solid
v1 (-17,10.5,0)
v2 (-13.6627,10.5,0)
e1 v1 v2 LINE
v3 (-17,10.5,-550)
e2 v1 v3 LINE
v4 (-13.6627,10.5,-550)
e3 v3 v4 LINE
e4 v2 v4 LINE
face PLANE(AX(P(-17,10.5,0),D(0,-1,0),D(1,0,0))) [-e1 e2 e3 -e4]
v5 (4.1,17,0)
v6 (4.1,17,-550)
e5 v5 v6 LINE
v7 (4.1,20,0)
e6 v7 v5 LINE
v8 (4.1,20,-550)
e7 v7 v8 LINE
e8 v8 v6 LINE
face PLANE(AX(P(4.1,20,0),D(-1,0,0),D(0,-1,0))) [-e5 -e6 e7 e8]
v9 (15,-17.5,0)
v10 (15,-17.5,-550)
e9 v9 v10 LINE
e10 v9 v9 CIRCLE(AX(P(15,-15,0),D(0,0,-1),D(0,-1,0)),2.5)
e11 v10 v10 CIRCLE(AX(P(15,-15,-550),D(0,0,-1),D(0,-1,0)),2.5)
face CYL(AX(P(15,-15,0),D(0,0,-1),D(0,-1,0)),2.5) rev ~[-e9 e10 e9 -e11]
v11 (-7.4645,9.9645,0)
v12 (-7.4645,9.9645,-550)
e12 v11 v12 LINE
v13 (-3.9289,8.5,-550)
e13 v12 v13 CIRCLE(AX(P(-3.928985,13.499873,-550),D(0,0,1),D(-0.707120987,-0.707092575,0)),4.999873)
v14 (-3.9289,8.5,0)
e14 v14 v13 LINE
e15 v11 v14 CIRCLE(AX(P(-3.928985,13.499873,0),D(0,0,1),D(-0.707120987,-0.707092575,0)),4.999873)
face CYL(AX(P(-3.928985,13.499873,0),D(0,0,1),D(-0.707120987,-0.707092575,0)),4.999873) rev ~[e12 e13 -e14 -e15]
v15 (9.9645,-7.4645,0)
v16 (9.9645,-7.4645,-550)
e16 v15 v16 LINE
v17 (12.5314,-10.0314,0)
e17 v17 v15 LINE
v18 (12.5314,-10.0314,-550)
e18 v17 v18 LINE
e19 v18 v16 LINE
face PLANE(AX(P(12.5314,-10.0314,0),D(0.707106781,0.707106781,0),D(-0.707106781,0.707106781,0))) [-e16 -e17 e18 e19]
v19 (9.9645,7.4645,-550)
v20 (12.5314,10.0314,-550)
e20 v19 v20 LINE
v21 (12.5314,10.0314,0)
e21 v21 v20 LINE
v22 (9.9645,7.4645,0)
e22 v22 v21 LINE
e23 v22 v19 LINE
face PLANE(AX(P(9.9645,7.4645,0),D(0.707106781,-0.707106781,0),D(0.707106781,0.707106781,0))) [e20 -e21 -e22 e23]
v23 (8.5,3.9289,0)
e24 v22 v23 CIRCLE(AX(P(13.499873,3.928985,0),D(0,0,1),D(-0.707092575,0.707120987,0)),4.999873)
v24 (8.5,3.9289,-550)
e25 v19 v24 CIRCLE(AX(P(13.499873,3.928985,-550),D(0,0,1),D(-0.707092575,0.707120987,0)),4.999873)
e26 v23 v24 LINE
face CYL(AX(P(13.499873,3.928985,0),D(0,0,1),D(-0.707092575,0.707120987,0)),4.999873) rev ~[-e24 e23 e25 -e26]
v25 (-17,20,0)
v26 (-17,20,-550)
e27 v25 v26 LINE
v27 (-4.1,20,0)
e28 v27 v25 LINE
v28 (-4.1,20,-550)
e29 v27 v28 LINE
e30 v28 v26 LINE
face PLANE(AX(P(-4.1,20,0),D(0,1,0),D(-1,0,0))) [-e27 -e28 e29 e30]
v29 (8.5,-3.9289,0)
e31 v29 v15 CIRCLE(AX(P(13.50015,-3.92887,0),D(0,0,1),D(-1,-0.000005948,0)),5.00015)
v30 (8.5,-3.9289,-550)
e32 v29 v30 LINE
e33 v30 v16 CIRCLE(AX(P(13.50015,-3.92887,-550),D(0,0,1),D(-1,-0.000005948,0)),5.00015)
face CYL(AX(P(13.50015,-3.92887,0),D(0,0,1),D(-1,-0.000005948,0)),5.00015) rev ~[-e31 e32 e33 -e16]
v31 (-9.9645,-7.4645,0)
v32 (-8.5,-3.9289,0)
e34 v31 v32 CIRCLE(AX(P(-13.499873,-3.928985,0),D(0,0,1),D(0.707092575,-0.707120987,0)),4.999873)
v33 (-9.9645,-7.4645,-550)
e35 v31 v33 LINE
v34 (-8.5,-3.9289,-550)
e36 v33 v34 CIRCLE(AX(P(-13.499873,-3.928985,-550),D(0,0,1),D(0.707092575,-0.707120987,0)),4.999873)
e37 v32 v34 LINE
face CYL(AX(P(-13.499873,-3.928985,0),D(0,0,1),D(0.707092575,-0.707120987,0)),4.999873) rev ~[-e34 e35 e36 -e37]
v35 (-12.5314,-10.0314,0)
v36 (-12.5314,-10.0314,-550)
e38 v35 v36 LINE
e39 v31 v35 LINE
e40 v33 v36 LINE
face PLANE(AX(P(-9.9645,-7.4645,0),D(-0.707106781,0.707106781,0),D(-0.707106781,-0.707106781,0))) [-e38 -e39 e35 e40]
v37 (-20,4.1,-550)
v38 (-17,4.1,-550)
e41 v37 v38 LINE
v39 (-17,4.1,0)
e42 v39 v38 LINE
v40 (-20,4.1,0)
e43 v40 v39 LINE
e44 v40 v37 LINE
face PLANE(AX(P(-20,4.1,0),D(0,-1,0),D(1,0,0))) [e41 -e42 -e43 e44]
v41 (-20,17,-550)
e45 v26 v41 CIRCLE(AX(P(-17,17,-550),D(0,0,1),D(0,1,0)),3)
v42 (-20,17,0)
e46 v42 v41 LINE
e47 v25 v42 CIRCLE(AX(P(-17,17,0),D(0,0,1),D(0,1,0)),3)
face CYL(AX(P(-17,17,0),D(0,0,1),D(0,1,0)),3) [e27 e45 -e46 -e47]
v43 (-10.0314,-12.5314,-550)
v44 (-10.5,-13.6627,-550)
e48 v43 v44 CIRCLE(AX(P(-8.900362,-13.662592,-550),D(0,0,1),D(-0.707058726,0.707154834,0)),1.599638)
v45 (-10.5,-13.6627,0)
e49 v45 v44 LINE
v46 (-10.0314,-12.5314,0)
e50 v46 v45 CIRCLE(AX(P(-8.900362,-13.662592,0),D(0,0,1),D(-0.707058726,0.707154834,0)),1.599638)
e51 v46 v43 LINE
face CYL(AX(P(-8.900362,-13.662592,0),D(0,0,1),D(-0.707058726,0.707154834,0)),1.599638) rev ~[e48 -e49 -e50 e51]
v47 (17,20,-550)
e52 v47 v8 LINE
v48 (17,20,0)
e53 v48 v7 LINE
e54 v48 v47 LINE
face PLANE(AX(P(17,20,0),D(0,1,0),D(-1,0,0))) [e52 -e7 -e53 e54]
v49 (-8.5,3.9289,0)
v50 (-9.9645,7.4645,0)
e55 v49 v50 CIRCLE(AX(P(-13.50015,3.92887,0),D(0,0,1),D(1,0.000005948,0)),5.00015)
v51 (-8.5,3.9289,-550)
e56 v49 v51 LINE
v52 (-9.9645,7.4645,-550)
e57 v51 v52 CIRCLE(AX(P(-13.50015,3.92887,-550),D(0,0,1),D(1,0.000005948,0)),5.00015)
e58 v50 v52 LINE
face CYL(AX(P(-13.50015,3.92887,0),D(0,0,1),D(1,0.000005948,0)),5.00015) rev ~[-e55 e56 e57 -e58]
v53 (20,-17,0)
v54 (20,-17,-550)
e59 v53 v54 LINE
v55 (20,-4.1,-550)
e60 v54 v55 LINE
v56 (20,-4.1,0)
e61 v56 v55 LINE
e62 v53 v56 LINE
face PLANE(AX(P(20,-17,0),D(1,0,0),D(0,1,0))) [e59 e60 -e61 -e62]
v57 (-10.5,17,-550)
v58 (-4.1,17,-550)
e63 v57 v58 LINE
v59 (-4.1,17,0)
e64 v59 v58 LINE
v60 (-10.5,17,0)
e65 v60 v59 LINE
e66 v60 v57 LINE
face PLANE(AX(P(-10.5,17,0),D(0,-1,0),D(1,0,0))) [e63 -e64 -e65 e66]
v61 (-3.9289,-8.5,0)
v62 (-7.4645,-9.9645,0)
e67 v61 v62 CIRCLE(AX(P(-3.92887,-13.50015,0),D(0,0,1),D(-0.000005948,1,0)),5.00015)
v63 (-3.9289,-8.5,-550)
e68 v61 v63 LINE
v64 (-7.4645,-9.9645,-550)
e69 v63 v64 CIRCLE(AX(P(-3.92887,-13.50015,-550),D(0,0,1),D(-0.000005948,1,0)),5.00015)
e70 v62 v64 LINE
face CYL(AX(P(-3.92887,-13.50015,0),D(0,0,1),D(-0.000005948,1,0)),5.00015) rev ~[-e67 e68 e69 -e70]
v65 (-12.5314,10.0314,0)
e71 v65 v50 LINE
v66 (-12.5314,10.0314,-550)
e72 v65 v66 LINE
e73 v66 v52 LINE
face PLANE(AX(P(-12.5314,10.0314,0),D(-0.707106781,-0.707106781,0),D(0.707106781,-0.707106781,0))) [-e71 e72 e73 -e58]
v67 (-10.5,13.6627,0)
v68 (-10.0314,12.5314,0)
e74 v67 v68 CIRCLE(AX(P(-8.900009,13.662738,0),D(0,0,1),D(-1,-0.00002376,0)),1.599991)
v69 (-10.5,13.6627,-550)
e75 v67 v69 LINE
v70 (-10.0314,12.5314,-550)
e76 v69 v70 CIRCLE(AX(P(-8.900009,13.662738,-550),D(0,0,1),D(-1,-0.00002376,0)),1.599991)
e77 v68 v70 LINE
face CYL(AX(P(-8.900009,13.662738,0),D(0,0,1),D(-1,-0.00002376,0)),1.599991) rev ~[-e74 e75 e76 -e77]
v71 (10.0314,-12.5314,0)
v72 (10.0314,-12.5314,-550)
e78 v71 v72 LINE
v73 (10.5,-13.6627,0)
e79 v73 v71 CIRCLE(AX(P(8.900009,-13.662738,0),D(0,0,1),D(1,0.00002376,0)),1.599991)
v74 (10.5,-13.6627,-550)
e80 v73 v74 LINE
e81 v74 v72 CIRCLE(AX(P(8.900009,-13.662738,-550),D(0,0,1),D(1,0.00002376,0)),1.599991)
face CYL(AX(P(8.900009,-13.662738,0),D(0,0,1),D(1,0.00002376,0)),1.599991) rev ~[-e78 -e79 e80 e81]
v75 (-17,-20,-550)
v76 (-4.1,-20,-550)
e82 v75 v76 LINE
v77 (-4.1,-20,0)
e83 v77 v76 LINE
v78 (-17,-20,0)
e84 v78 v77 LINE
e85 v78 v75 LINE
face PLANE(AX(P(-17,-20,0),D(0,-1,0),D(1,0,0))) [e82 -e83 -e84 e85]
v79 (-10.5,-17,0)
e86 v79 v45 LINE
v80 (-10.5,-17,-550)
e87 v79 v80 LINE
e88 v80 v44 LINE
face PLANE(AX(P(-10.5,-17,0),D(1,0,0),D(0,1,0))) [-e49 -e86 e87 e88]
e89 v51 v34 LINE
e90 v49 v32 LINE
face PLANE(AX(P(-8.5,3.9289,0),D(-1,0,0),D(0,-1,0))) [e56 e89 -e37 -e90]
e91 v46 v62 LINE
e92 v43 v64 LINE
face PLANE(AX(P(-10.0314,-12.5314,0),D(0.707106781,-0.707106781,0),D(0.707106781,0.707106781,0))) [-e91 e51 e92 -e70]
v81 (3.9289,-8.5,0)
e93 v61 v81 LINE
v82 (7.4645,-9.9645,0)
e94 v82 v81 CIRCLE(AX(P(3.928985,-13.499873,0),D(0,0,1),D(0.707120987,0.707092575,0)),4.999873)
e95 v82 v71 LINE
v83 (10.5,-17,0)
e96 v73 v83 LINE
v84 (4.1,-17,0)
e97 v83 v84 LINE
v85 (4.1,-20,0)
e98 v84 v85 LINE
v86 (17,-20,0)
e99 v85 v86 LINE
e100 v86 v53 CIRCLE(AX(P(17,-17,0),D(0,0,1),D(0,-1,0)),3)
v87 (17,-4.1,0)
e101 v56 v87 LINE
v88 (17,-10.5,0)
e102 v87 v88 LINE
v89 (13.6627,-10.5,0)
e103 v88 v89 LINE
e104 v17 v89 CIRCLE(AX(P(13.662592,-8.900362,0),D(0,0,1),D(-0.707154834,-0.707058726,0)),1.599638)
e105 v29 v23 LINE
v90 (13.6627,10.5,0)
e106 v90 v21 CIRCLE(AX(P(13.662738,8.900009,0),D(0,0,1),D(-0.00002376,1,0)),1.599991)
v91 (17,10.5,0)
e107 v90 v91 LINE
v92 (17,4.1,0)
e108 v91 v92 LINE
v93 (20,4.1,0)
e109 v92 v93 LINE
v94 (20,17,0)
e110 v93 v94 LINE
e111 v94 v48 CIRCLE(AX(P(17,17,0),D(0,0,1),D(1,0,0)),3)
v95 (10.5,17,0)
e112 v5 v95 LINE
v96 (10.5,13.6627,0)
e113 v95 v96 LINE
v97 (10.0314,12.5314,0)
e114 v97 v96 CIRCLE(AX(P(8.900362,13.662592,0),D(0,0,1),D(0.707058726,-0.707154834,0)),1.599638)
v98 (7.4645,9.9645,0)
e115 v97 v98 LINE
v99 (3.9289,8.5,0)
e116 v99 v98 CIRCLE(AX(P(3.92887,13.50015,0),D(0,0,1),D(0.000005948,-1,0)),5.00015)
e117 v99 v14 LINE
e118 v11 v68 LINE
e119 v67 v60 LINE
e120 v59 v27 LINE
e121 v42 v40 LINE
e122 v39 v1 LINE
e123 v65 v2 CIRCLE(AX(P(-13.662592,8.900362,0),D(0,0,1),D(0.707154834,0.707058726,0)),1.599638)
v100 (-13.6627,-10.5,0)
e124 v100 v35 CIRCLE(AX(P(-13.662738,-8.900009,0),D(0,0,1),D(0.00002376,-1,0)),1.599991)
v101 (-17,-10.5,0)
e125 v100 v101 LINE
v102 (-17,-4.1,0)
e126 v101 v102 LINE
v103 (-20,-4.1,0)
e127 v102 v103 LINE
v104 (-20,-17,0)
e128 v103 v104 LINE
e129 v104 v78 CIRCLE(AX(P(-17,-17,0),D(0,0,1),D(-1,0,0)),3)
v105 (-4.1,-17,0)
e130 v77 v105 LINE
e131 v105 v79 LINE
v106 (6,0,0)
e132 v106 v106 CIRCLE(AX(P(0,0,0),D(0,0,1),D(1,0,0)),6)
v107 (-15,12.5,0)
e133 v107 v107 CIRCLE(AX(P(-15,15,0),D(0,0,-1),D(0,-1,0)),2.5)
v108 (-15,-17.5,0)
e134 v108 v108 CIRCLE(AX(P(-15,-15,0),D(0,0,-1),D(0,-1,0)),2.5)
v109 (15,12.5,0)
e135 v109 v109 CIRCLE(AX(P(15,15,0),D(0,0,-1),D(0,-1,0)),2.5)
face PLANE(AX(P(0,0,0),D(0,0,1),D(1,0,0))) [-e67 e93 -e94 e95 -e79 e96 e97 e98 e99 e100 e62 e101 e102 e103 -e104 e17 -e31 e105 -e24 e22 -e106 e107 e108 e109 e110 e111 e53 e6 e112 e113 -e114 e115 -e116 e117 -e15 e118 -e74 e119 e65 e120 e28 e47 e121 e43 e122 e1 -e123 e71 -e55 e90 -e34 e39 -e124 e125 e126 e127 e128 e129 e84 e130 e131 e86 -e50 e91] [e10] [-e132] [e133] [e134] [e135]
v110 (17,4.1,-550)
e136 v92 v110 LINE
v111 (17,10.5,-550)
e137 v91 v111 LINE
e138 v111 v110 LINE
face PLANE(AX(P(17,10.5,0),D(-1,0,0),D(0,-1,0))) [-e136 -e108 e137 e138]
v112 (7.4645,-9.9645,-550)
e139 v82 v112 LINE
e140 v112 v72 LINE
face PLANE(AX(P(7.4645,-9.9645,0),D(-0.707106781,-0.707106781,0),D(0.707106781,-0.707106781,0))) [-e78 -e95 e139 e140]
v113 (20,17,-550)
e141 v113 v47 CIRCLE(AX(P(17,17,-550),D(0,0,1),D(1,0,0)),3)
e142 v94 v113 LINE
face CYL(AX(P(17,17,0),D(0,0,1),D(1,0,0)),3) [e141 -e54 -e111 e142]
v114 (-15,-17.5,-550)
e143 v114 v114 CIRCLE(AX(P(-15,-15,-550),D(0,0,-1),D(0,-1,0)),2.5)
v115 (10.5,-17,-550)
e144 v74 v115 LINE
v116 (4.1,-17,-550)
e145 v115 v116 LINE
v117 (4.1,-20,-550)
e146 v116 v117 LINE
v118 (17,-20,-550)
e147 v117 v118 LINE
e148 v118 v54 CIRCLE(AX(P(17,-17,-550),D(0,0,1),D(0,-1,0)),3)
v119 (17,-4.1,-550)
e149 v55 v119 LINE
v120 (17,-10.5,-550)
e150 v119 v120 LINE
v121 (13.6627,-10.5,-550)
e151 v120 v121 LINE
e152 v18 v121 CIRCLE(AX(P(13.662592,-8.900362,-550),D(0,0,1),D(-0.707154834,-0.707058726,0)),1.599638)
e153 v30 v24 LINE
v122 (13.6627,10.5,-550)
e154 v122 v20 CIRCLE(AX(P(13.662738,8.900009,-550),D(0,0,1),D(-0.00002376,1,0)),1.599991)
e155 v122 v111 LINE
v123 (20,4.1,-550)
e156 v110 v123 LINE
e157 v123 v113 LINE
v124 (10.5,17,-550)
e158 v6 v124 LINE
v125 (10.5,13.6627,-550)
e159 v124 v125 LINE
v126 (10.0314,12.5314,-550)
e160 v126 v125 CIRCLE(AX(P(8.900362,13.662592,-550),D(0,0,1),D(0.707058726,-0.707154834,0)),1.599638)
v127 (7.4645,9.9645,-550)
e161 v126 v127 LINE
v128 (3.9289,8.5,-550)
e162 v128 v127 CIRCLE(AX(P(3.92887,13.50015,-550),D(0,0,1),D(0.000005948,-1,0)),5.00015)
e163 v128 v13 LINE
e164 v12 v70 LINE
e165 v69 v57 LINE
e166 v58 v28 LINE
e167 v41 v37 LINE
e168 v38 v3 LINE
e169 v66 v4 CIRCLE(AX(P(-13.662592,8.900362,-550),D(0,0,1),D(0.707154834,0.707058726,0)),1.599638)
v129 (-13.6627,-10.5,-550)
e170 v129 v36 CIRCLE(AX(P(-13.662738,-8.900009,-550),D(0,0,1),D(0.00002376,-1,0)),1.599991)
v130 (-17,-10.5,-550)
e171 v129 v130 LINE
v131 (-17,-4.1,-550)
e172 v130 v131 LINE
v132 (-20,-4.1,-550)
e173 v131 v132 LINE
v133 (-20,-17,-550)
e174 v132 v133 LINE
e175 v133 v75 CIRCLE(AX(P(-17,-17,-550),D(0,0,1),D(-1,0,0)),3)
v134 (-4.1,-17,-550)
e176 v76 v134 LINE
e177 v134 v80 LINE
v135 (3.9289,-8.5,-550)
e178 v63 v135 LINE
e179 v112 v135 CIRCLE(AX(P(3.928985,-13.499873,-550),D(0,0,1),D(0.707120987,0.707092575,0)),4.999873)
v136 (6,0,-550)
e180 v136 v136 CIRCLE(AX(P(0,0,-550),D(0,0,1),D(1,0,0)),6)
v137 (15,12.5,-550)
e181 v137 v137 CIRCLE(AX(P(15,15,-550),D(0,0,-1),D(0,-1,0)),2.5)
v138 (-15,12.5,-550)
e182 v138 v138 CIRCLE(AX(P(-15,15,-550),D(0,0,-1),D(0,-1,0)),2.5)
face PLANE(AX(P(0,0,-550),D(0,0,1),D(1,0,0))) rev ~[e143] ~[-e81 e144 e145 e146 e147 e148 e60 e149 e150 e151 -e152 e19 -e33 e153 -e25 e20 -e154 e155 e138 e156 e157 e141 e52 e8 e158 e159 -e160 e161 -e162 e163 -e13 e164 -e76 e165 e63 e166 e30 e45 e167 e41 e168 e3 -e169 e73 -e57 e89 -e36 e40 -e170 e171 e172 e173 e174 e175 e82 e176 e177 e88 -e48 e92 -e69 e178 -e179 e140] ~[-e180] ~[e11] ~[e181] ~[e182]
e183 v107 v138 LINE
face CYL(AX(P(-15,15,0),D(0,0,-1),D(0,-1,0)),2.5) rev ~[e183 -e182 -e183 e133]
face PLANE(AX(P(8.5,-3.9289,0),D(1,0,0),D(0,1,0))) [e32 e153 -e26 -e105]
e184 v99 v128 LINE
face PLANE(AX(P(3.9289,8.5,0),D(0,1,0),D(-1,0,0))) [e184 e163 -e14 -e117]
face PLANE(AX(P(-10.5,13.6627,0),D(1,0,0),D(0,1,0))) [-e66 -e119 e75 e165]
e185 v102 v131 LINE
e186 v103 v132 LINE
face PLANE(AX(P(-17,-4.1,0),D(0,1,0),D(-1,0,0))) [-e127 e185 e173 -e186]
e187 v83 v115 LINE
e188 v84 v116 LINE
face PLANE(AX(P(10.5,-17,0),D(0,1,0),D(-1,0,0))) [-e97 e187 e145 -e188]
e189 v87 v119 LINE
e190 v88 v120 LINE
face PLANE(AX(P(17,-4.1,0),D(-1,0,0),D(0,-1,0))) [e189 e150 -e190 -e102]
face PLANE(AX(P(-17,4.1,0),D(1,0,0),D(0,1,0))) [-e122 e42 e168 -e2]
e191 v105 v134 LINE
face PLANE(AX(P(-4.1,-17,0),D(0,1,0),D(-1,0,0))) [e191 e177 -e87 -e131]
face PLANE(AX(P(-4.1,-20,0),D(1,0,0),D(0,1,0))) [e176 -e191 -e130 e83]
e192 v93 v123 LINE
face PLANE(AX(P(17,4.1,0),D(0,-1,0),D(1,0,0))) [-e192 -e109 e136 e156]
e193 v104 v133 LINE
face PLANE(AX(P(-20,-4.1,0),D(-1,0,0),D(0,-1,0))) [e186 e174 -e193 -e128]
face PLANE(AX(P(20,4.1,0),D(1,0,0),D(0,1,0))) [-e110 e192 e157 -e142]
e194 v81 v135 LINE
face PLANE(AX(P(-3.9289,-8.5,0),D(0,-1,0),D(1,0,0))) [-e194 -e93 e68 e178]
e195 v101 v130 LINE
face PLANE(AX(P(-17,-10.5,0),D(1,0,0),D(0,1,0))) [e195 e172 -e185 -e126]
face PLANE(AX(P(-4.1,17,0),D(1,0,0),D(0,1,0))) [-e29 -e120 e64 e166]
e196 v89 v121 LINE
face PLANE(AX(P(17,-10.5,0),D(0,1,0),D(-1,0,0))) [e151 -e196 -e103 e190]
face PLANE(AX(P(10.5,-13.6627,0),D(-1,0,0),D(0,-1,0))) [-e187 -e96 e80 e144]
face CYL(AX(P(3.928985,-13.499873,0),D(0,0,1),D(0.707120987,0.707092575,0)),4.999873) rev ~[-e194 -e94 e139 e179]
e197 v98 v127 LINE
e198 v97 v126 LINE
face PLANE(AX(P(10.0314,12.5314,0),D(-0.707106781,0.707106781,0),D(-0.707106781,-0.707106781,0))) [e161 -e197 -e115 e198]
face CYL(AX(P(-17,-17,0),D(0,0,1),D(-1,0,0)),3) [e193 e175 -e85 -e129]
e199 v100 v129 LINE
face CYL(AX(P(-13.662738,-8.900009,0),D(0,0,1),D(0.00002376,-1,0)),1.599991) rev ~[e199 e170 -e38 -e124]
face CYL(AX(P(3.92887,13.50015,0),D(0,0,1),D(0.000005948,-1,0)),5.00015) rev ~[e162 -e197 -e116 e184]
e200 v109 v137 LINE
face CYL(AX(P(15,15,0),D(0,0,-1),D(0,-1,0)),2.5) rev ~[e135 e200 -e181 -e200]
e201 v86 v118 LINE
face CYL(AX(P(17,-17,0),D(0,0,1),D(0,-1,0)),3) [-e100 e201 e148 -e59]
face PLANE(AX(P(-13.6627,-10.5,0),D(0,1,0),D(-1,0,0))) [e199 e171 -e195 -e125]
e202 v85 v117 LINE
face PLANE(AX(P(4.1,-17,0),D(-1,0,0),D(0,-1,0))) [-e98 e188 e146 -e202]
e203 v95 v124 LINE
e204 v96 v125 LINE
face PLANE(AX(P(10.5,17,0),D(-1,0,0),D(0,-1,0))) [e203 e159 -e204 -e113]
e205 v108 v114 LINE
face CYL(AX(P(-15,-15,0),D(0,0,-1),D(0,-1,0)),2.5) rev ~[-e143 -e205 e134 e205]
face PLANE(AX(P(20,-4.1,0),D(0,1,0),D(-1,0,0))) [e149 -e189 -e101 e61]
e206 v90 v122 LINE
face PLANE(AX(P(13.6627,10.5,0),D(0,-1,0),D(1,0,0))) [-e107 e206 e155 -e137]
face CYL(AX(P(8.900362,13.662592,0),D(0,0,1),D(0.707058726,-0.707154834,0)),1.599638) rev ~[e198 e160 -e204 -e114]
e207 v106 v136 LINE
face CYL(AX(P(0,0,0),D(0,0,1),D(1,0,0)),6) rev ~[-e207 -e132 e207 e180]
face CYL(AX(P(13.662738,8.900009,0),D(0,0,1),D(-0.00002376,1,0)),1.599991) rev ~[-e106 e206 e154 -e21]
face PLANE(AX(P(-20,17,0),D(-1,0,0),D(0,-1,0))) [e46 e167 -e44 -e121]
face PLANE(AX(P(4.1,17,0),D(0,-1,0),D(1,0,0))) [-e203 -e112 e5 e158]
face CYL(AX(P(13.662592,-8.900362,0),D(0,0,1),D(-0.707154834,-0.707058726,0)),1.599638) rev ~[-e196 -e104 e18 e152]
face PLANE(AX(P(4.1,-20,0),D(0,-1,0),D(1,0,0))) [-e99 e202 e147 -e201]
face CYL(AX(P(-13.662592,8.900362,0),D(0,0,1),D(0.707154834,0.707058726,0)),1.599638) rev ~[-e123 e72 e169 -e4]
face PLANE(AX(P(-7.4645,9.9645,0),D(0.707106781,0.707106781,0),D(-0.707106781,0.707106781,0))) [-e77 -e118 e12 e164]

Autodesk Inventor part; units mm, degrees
sketch "Skizze_1" plane through (0, 0, 0) normal (0, 0, 1) x (1, 0, 0)
  arc A0 (-20, -17) -> (-17, -20) centre (-17, -17) ccw
  line L0 (-17, -20) -> (-4.1, -20)
  line L1 (-4.1, -20) -> (-4.1, -17)
  line L2 (-4.1, -17) -> (-10.5, -17)
  line L3 (-10.5, -17) -> (-10.5, -13.6627)
  arc A1 (-10.0314, -12.5314) -> (-10.5, -13.6627) centre (-8.9002, -13.6627) ccw
  line L4 (-10.0314, -12.5314) -> (-7.4645, -9.9645)
  arc A2 (-3.9289, -8.5) -> (-7.4645, -9.9645) centre (-3.9289, -13.5) ccw
  line L5 (-3.9289, -8.5) -> (3.9289, -8.5)
  arc A3 (7.4645, -9.9645) -> (3.9289, -8.5) centre (3.9289, -13.5) ccw
  line L6 (7.4645, -9.9645) -> (10.0314, -12.5314)
  arc A4 (10.5, -13.6627) -> (10.0314, -12.5314) centre (8.9002, -13.6627) ccw
  line L7 (10.5, -13.6627) -> (10.5, -17)
  line L8 (10.5, -17) -> (4.1, -17)
  line L9 (4.1, -17) -> (4.1, -20)
  line L10 (4.1, -20) -> (17, -20)
  arc A5 (17, -20) -> (20, -17) centre (17, -17) ccw
  line L11 (20, -17) -> (20, -4.1)
  line L12 (20, -4.1) -> (17, -4.1)
  line L13 (17, -4.1) -> (17, -10.5)
  line L14 (17, -10.5) -> (13.6627, -10.5)
  arc A6 (12.5314, -10.0314) -> (13.6627, -10.5) centre (13.6627, -8.9002) ccw
  line L15 (12.5314, -10.0314) -> (9.9645, -7.4645)
  arc A7 (8.5, -3.9289) -> (9.9645, -7.4645) centre (13.5, -3.9289) ccw
  line L16 (8.5, -3.9289) -> (8.5, 3.9289)
  arc A8 (9.9645, 7.4645) -> (8.5, 3.9289) centre (13.5, 3.9289) ccw
  line L17 (9.9645, 7.4645) -> (12.5314, 10.0314)
  arc A9 (13.6627, 10.5) -> (12.5314, 10.0314) centre (13.6627, 8.9002) ccw
  line L18 (13.6627, 10.5) -> (17, 10.5)
  line L19 (17, 10.5) -> (17, 4.1)
  line L20 (17, 4.1) -> (20, 4.1)
  line L21 (20, 4.1) -> (20, 17)
  arc A10 (20, 17) -> (17, 20) centre (17, 17) ccw
  line L22 (17, 20) -> (4.1, 20)
  line L23 (4.1, 20) -> (4.1, 17)
  line L24 (4.1, 17) -> (10.5, 17)
  line L25 (10.5, 17) -> (10.5, 13.6627)
  arc A11 (10.0314, 12.5314) -> (10.5, 13.6627) centre (8.9002, 13.6627) ccw
  line L26 (10.0314, 12.5314) -> (7.4645, 9.9645)
  arc A12 (3.9289, 8.5) -> (7.4645, 9.9645) centre (3.9289, 13.5) ccw
  line L27 (3.9289, 8.5) -> (-3.9289, 8.5)
  arc A13 (-7.4645, 9.9645) -> (-3.9289, 8.5) centre (-3.9289, 13.5) ccw
  line L28 (-7.4645, 9.9645) -> (-10.0314, 12.5314)
  arc A14 (-10.5, 13.6627) -> (-10.0314, 12.5314) centre (-8.9002, 13.6627) ccw
  line L29 (-10.5, 13.6627) -> (-10.5, 17)
  line L30 (-10.5, 17) -> (-4.1, 17)
  line L31 (-4.1, 17) -> (-4.1, 20)
  line L32 (-4.1, 20) -> (-17, 20)
  arc A15 (-17, 20) -> (-20, 17) centre (-17, 17) ccw
  line L33 (-20, 17) -> (-20, 4.1)
  line L34 (-20, 4.1) -> (-17, 4.1)
  line L35 (-17, 4.1) -> (-17, 10.5)
  line L36 (-17, 10.5) -> (-13.6627, 10.5)
  arc A16 (-12.5314, 10.0314) -> (-13.6627, 10.5) centre (-13.6627, 8.9002) ccw
  line L37 (-12.5314, 10.0314) -> (-9.9645, 7.4645)
  arc A17 (-8.5, 3.9289) -> (-9.9645, 7.4645) centre (-13.5, 3.9289) ccw
  line L38 (-8.5, 3.9289) -> (-8.5, -3.9289)
  arc A18 (-9.9645, -7.4645) -> (-8.5, -3.9289) centre (-13.5, -3.9289) ccw
  line L39 (-9.9645, -7.4645) -> (-12.5314, -10.0314)
  arc A19 (-13.6627, -10.5) -> (-12.5314, -10.0314) centre (-13.6627, -8.9002) ccw
  line L40 (-13.6627, -10.5) -> (-17, -10.5)
  line L41 (-17, -10.5) -> (-17, -4.1)
  line L42 (-17, -4.1) -> (-20, -4.1)
  line L43 (-20, -4.1) -> (-20, -17)
  circle A20 centre (0, 0) radius 6
extrude "Extrusion1" add sketch "Skizze_1" against normal blind 550
sketch "Sketch2" plane through (0, 0, 0) normal (0, 0, 1) x (1, 0, 0)
  point P0 (-15, -15)
hole "Drilling 1" at (-15, -15, 0) direction (0, 0, -1) diameter 5 depth 6000
sketch "Sketch3" plane through (0, 0, 0) normal (0, 0, 1) x (1, 0, 0)
  point P0 (15, -15)
hole "Drilling 2" at (15, -15, 0) direction (0, 0, -1) diameter 5 depth 6000
sketch "Sketch4" plane through (0, 0, 0) normal (0, 0, 1) x (1, 0, 0)
  point P0 (15, 15)
hole "Drilling 3" at (15, 15, 0) direction (0, 0, -1) diameter 5 depth 6000
sketch "Sketch5" plane through (0, 0, 0) normal (0, 0, 1) x (1, 0, 0)
  point P0 (-15, 15)
hole "Drilling 4" at (-15, 15, 0) direction (0, 0, -1) diameter 5 depth 6000
ref_plane "side_4d_XY" through (-20, 0, -275) normal (-1, 0, 0) x (0, 1, 0)
ref_plane "side_4d_YZ" through (-20, 0, -275) normal (0, 1, 0) x (0, 0, -1)
ref_plane "side_4d_ZX" through (-20, 0, -275) normal (0, 0, -1) x (-1, 0, 0)
ref_plane "side_1a_XY" through (0, 20, -275) normal (0, 1, 0) x (1, 0, 0)
ref_plane "side_1a_YZ" through (0, 20, -275) normal (1, 0, 0) x (0, 0, -1)
ref_plane "side_1a_ZX" through (0, 20, -275) normal (0, 0, -1) x (0, 1, 0)
ref_plane "side_2b_XY" through (20, 0, -275) normal (1, 0, 0) x (0, -1, 0)
ref_plane "side_2b_YZ" through (20, 0, -275) normal (0, -1, 0) x (0, 0, -1)
ref_plane "side_2b_ZX" through (20, 0, -275) normal (0, 0, -1) x (1, 0, 0)
ref_plane "side_3c_XY" through (0, -20, -275) normal (0, -1, 0) x (-1, 0, 0)
ref_plane "side_3c_YZ" through (0, -20, -275) normal (-1, 0, 0) x (0, 0, -1)
ref_plane "side_3c_ZX" through (0, -20, -275) normal (0, 0, -1) x (0, -1, 0)
ref_plane "end_XY" through (0, 0, -550) normal (0, 0, -1) x (1, 0, 0)
ref_plane "end_YZ" through (0, 0, -550) normal (1, 0, 0) x (0, -1, 0)
ref_plane "end_ZX" through (0, 0, -550) normal (0, -1, 0) x (0, 0, -1)
ref_plane "start_XY" through (0, 0, 0) normal (0, 0, 1) x (1, 0, 0)
ref_plane "start_YZ" through (0, 0, 0) normal (1, 0, 0) x (0, 1, 0)
ref_plane "start_ZX" through (0, 0, 0) normal (0, 1, 0) x (0, 0, 1)
properties part number "MayTec 1.11.040040.43S_Profile 40x40, 4E, S_550_Detail_(0;0,0,0)"
